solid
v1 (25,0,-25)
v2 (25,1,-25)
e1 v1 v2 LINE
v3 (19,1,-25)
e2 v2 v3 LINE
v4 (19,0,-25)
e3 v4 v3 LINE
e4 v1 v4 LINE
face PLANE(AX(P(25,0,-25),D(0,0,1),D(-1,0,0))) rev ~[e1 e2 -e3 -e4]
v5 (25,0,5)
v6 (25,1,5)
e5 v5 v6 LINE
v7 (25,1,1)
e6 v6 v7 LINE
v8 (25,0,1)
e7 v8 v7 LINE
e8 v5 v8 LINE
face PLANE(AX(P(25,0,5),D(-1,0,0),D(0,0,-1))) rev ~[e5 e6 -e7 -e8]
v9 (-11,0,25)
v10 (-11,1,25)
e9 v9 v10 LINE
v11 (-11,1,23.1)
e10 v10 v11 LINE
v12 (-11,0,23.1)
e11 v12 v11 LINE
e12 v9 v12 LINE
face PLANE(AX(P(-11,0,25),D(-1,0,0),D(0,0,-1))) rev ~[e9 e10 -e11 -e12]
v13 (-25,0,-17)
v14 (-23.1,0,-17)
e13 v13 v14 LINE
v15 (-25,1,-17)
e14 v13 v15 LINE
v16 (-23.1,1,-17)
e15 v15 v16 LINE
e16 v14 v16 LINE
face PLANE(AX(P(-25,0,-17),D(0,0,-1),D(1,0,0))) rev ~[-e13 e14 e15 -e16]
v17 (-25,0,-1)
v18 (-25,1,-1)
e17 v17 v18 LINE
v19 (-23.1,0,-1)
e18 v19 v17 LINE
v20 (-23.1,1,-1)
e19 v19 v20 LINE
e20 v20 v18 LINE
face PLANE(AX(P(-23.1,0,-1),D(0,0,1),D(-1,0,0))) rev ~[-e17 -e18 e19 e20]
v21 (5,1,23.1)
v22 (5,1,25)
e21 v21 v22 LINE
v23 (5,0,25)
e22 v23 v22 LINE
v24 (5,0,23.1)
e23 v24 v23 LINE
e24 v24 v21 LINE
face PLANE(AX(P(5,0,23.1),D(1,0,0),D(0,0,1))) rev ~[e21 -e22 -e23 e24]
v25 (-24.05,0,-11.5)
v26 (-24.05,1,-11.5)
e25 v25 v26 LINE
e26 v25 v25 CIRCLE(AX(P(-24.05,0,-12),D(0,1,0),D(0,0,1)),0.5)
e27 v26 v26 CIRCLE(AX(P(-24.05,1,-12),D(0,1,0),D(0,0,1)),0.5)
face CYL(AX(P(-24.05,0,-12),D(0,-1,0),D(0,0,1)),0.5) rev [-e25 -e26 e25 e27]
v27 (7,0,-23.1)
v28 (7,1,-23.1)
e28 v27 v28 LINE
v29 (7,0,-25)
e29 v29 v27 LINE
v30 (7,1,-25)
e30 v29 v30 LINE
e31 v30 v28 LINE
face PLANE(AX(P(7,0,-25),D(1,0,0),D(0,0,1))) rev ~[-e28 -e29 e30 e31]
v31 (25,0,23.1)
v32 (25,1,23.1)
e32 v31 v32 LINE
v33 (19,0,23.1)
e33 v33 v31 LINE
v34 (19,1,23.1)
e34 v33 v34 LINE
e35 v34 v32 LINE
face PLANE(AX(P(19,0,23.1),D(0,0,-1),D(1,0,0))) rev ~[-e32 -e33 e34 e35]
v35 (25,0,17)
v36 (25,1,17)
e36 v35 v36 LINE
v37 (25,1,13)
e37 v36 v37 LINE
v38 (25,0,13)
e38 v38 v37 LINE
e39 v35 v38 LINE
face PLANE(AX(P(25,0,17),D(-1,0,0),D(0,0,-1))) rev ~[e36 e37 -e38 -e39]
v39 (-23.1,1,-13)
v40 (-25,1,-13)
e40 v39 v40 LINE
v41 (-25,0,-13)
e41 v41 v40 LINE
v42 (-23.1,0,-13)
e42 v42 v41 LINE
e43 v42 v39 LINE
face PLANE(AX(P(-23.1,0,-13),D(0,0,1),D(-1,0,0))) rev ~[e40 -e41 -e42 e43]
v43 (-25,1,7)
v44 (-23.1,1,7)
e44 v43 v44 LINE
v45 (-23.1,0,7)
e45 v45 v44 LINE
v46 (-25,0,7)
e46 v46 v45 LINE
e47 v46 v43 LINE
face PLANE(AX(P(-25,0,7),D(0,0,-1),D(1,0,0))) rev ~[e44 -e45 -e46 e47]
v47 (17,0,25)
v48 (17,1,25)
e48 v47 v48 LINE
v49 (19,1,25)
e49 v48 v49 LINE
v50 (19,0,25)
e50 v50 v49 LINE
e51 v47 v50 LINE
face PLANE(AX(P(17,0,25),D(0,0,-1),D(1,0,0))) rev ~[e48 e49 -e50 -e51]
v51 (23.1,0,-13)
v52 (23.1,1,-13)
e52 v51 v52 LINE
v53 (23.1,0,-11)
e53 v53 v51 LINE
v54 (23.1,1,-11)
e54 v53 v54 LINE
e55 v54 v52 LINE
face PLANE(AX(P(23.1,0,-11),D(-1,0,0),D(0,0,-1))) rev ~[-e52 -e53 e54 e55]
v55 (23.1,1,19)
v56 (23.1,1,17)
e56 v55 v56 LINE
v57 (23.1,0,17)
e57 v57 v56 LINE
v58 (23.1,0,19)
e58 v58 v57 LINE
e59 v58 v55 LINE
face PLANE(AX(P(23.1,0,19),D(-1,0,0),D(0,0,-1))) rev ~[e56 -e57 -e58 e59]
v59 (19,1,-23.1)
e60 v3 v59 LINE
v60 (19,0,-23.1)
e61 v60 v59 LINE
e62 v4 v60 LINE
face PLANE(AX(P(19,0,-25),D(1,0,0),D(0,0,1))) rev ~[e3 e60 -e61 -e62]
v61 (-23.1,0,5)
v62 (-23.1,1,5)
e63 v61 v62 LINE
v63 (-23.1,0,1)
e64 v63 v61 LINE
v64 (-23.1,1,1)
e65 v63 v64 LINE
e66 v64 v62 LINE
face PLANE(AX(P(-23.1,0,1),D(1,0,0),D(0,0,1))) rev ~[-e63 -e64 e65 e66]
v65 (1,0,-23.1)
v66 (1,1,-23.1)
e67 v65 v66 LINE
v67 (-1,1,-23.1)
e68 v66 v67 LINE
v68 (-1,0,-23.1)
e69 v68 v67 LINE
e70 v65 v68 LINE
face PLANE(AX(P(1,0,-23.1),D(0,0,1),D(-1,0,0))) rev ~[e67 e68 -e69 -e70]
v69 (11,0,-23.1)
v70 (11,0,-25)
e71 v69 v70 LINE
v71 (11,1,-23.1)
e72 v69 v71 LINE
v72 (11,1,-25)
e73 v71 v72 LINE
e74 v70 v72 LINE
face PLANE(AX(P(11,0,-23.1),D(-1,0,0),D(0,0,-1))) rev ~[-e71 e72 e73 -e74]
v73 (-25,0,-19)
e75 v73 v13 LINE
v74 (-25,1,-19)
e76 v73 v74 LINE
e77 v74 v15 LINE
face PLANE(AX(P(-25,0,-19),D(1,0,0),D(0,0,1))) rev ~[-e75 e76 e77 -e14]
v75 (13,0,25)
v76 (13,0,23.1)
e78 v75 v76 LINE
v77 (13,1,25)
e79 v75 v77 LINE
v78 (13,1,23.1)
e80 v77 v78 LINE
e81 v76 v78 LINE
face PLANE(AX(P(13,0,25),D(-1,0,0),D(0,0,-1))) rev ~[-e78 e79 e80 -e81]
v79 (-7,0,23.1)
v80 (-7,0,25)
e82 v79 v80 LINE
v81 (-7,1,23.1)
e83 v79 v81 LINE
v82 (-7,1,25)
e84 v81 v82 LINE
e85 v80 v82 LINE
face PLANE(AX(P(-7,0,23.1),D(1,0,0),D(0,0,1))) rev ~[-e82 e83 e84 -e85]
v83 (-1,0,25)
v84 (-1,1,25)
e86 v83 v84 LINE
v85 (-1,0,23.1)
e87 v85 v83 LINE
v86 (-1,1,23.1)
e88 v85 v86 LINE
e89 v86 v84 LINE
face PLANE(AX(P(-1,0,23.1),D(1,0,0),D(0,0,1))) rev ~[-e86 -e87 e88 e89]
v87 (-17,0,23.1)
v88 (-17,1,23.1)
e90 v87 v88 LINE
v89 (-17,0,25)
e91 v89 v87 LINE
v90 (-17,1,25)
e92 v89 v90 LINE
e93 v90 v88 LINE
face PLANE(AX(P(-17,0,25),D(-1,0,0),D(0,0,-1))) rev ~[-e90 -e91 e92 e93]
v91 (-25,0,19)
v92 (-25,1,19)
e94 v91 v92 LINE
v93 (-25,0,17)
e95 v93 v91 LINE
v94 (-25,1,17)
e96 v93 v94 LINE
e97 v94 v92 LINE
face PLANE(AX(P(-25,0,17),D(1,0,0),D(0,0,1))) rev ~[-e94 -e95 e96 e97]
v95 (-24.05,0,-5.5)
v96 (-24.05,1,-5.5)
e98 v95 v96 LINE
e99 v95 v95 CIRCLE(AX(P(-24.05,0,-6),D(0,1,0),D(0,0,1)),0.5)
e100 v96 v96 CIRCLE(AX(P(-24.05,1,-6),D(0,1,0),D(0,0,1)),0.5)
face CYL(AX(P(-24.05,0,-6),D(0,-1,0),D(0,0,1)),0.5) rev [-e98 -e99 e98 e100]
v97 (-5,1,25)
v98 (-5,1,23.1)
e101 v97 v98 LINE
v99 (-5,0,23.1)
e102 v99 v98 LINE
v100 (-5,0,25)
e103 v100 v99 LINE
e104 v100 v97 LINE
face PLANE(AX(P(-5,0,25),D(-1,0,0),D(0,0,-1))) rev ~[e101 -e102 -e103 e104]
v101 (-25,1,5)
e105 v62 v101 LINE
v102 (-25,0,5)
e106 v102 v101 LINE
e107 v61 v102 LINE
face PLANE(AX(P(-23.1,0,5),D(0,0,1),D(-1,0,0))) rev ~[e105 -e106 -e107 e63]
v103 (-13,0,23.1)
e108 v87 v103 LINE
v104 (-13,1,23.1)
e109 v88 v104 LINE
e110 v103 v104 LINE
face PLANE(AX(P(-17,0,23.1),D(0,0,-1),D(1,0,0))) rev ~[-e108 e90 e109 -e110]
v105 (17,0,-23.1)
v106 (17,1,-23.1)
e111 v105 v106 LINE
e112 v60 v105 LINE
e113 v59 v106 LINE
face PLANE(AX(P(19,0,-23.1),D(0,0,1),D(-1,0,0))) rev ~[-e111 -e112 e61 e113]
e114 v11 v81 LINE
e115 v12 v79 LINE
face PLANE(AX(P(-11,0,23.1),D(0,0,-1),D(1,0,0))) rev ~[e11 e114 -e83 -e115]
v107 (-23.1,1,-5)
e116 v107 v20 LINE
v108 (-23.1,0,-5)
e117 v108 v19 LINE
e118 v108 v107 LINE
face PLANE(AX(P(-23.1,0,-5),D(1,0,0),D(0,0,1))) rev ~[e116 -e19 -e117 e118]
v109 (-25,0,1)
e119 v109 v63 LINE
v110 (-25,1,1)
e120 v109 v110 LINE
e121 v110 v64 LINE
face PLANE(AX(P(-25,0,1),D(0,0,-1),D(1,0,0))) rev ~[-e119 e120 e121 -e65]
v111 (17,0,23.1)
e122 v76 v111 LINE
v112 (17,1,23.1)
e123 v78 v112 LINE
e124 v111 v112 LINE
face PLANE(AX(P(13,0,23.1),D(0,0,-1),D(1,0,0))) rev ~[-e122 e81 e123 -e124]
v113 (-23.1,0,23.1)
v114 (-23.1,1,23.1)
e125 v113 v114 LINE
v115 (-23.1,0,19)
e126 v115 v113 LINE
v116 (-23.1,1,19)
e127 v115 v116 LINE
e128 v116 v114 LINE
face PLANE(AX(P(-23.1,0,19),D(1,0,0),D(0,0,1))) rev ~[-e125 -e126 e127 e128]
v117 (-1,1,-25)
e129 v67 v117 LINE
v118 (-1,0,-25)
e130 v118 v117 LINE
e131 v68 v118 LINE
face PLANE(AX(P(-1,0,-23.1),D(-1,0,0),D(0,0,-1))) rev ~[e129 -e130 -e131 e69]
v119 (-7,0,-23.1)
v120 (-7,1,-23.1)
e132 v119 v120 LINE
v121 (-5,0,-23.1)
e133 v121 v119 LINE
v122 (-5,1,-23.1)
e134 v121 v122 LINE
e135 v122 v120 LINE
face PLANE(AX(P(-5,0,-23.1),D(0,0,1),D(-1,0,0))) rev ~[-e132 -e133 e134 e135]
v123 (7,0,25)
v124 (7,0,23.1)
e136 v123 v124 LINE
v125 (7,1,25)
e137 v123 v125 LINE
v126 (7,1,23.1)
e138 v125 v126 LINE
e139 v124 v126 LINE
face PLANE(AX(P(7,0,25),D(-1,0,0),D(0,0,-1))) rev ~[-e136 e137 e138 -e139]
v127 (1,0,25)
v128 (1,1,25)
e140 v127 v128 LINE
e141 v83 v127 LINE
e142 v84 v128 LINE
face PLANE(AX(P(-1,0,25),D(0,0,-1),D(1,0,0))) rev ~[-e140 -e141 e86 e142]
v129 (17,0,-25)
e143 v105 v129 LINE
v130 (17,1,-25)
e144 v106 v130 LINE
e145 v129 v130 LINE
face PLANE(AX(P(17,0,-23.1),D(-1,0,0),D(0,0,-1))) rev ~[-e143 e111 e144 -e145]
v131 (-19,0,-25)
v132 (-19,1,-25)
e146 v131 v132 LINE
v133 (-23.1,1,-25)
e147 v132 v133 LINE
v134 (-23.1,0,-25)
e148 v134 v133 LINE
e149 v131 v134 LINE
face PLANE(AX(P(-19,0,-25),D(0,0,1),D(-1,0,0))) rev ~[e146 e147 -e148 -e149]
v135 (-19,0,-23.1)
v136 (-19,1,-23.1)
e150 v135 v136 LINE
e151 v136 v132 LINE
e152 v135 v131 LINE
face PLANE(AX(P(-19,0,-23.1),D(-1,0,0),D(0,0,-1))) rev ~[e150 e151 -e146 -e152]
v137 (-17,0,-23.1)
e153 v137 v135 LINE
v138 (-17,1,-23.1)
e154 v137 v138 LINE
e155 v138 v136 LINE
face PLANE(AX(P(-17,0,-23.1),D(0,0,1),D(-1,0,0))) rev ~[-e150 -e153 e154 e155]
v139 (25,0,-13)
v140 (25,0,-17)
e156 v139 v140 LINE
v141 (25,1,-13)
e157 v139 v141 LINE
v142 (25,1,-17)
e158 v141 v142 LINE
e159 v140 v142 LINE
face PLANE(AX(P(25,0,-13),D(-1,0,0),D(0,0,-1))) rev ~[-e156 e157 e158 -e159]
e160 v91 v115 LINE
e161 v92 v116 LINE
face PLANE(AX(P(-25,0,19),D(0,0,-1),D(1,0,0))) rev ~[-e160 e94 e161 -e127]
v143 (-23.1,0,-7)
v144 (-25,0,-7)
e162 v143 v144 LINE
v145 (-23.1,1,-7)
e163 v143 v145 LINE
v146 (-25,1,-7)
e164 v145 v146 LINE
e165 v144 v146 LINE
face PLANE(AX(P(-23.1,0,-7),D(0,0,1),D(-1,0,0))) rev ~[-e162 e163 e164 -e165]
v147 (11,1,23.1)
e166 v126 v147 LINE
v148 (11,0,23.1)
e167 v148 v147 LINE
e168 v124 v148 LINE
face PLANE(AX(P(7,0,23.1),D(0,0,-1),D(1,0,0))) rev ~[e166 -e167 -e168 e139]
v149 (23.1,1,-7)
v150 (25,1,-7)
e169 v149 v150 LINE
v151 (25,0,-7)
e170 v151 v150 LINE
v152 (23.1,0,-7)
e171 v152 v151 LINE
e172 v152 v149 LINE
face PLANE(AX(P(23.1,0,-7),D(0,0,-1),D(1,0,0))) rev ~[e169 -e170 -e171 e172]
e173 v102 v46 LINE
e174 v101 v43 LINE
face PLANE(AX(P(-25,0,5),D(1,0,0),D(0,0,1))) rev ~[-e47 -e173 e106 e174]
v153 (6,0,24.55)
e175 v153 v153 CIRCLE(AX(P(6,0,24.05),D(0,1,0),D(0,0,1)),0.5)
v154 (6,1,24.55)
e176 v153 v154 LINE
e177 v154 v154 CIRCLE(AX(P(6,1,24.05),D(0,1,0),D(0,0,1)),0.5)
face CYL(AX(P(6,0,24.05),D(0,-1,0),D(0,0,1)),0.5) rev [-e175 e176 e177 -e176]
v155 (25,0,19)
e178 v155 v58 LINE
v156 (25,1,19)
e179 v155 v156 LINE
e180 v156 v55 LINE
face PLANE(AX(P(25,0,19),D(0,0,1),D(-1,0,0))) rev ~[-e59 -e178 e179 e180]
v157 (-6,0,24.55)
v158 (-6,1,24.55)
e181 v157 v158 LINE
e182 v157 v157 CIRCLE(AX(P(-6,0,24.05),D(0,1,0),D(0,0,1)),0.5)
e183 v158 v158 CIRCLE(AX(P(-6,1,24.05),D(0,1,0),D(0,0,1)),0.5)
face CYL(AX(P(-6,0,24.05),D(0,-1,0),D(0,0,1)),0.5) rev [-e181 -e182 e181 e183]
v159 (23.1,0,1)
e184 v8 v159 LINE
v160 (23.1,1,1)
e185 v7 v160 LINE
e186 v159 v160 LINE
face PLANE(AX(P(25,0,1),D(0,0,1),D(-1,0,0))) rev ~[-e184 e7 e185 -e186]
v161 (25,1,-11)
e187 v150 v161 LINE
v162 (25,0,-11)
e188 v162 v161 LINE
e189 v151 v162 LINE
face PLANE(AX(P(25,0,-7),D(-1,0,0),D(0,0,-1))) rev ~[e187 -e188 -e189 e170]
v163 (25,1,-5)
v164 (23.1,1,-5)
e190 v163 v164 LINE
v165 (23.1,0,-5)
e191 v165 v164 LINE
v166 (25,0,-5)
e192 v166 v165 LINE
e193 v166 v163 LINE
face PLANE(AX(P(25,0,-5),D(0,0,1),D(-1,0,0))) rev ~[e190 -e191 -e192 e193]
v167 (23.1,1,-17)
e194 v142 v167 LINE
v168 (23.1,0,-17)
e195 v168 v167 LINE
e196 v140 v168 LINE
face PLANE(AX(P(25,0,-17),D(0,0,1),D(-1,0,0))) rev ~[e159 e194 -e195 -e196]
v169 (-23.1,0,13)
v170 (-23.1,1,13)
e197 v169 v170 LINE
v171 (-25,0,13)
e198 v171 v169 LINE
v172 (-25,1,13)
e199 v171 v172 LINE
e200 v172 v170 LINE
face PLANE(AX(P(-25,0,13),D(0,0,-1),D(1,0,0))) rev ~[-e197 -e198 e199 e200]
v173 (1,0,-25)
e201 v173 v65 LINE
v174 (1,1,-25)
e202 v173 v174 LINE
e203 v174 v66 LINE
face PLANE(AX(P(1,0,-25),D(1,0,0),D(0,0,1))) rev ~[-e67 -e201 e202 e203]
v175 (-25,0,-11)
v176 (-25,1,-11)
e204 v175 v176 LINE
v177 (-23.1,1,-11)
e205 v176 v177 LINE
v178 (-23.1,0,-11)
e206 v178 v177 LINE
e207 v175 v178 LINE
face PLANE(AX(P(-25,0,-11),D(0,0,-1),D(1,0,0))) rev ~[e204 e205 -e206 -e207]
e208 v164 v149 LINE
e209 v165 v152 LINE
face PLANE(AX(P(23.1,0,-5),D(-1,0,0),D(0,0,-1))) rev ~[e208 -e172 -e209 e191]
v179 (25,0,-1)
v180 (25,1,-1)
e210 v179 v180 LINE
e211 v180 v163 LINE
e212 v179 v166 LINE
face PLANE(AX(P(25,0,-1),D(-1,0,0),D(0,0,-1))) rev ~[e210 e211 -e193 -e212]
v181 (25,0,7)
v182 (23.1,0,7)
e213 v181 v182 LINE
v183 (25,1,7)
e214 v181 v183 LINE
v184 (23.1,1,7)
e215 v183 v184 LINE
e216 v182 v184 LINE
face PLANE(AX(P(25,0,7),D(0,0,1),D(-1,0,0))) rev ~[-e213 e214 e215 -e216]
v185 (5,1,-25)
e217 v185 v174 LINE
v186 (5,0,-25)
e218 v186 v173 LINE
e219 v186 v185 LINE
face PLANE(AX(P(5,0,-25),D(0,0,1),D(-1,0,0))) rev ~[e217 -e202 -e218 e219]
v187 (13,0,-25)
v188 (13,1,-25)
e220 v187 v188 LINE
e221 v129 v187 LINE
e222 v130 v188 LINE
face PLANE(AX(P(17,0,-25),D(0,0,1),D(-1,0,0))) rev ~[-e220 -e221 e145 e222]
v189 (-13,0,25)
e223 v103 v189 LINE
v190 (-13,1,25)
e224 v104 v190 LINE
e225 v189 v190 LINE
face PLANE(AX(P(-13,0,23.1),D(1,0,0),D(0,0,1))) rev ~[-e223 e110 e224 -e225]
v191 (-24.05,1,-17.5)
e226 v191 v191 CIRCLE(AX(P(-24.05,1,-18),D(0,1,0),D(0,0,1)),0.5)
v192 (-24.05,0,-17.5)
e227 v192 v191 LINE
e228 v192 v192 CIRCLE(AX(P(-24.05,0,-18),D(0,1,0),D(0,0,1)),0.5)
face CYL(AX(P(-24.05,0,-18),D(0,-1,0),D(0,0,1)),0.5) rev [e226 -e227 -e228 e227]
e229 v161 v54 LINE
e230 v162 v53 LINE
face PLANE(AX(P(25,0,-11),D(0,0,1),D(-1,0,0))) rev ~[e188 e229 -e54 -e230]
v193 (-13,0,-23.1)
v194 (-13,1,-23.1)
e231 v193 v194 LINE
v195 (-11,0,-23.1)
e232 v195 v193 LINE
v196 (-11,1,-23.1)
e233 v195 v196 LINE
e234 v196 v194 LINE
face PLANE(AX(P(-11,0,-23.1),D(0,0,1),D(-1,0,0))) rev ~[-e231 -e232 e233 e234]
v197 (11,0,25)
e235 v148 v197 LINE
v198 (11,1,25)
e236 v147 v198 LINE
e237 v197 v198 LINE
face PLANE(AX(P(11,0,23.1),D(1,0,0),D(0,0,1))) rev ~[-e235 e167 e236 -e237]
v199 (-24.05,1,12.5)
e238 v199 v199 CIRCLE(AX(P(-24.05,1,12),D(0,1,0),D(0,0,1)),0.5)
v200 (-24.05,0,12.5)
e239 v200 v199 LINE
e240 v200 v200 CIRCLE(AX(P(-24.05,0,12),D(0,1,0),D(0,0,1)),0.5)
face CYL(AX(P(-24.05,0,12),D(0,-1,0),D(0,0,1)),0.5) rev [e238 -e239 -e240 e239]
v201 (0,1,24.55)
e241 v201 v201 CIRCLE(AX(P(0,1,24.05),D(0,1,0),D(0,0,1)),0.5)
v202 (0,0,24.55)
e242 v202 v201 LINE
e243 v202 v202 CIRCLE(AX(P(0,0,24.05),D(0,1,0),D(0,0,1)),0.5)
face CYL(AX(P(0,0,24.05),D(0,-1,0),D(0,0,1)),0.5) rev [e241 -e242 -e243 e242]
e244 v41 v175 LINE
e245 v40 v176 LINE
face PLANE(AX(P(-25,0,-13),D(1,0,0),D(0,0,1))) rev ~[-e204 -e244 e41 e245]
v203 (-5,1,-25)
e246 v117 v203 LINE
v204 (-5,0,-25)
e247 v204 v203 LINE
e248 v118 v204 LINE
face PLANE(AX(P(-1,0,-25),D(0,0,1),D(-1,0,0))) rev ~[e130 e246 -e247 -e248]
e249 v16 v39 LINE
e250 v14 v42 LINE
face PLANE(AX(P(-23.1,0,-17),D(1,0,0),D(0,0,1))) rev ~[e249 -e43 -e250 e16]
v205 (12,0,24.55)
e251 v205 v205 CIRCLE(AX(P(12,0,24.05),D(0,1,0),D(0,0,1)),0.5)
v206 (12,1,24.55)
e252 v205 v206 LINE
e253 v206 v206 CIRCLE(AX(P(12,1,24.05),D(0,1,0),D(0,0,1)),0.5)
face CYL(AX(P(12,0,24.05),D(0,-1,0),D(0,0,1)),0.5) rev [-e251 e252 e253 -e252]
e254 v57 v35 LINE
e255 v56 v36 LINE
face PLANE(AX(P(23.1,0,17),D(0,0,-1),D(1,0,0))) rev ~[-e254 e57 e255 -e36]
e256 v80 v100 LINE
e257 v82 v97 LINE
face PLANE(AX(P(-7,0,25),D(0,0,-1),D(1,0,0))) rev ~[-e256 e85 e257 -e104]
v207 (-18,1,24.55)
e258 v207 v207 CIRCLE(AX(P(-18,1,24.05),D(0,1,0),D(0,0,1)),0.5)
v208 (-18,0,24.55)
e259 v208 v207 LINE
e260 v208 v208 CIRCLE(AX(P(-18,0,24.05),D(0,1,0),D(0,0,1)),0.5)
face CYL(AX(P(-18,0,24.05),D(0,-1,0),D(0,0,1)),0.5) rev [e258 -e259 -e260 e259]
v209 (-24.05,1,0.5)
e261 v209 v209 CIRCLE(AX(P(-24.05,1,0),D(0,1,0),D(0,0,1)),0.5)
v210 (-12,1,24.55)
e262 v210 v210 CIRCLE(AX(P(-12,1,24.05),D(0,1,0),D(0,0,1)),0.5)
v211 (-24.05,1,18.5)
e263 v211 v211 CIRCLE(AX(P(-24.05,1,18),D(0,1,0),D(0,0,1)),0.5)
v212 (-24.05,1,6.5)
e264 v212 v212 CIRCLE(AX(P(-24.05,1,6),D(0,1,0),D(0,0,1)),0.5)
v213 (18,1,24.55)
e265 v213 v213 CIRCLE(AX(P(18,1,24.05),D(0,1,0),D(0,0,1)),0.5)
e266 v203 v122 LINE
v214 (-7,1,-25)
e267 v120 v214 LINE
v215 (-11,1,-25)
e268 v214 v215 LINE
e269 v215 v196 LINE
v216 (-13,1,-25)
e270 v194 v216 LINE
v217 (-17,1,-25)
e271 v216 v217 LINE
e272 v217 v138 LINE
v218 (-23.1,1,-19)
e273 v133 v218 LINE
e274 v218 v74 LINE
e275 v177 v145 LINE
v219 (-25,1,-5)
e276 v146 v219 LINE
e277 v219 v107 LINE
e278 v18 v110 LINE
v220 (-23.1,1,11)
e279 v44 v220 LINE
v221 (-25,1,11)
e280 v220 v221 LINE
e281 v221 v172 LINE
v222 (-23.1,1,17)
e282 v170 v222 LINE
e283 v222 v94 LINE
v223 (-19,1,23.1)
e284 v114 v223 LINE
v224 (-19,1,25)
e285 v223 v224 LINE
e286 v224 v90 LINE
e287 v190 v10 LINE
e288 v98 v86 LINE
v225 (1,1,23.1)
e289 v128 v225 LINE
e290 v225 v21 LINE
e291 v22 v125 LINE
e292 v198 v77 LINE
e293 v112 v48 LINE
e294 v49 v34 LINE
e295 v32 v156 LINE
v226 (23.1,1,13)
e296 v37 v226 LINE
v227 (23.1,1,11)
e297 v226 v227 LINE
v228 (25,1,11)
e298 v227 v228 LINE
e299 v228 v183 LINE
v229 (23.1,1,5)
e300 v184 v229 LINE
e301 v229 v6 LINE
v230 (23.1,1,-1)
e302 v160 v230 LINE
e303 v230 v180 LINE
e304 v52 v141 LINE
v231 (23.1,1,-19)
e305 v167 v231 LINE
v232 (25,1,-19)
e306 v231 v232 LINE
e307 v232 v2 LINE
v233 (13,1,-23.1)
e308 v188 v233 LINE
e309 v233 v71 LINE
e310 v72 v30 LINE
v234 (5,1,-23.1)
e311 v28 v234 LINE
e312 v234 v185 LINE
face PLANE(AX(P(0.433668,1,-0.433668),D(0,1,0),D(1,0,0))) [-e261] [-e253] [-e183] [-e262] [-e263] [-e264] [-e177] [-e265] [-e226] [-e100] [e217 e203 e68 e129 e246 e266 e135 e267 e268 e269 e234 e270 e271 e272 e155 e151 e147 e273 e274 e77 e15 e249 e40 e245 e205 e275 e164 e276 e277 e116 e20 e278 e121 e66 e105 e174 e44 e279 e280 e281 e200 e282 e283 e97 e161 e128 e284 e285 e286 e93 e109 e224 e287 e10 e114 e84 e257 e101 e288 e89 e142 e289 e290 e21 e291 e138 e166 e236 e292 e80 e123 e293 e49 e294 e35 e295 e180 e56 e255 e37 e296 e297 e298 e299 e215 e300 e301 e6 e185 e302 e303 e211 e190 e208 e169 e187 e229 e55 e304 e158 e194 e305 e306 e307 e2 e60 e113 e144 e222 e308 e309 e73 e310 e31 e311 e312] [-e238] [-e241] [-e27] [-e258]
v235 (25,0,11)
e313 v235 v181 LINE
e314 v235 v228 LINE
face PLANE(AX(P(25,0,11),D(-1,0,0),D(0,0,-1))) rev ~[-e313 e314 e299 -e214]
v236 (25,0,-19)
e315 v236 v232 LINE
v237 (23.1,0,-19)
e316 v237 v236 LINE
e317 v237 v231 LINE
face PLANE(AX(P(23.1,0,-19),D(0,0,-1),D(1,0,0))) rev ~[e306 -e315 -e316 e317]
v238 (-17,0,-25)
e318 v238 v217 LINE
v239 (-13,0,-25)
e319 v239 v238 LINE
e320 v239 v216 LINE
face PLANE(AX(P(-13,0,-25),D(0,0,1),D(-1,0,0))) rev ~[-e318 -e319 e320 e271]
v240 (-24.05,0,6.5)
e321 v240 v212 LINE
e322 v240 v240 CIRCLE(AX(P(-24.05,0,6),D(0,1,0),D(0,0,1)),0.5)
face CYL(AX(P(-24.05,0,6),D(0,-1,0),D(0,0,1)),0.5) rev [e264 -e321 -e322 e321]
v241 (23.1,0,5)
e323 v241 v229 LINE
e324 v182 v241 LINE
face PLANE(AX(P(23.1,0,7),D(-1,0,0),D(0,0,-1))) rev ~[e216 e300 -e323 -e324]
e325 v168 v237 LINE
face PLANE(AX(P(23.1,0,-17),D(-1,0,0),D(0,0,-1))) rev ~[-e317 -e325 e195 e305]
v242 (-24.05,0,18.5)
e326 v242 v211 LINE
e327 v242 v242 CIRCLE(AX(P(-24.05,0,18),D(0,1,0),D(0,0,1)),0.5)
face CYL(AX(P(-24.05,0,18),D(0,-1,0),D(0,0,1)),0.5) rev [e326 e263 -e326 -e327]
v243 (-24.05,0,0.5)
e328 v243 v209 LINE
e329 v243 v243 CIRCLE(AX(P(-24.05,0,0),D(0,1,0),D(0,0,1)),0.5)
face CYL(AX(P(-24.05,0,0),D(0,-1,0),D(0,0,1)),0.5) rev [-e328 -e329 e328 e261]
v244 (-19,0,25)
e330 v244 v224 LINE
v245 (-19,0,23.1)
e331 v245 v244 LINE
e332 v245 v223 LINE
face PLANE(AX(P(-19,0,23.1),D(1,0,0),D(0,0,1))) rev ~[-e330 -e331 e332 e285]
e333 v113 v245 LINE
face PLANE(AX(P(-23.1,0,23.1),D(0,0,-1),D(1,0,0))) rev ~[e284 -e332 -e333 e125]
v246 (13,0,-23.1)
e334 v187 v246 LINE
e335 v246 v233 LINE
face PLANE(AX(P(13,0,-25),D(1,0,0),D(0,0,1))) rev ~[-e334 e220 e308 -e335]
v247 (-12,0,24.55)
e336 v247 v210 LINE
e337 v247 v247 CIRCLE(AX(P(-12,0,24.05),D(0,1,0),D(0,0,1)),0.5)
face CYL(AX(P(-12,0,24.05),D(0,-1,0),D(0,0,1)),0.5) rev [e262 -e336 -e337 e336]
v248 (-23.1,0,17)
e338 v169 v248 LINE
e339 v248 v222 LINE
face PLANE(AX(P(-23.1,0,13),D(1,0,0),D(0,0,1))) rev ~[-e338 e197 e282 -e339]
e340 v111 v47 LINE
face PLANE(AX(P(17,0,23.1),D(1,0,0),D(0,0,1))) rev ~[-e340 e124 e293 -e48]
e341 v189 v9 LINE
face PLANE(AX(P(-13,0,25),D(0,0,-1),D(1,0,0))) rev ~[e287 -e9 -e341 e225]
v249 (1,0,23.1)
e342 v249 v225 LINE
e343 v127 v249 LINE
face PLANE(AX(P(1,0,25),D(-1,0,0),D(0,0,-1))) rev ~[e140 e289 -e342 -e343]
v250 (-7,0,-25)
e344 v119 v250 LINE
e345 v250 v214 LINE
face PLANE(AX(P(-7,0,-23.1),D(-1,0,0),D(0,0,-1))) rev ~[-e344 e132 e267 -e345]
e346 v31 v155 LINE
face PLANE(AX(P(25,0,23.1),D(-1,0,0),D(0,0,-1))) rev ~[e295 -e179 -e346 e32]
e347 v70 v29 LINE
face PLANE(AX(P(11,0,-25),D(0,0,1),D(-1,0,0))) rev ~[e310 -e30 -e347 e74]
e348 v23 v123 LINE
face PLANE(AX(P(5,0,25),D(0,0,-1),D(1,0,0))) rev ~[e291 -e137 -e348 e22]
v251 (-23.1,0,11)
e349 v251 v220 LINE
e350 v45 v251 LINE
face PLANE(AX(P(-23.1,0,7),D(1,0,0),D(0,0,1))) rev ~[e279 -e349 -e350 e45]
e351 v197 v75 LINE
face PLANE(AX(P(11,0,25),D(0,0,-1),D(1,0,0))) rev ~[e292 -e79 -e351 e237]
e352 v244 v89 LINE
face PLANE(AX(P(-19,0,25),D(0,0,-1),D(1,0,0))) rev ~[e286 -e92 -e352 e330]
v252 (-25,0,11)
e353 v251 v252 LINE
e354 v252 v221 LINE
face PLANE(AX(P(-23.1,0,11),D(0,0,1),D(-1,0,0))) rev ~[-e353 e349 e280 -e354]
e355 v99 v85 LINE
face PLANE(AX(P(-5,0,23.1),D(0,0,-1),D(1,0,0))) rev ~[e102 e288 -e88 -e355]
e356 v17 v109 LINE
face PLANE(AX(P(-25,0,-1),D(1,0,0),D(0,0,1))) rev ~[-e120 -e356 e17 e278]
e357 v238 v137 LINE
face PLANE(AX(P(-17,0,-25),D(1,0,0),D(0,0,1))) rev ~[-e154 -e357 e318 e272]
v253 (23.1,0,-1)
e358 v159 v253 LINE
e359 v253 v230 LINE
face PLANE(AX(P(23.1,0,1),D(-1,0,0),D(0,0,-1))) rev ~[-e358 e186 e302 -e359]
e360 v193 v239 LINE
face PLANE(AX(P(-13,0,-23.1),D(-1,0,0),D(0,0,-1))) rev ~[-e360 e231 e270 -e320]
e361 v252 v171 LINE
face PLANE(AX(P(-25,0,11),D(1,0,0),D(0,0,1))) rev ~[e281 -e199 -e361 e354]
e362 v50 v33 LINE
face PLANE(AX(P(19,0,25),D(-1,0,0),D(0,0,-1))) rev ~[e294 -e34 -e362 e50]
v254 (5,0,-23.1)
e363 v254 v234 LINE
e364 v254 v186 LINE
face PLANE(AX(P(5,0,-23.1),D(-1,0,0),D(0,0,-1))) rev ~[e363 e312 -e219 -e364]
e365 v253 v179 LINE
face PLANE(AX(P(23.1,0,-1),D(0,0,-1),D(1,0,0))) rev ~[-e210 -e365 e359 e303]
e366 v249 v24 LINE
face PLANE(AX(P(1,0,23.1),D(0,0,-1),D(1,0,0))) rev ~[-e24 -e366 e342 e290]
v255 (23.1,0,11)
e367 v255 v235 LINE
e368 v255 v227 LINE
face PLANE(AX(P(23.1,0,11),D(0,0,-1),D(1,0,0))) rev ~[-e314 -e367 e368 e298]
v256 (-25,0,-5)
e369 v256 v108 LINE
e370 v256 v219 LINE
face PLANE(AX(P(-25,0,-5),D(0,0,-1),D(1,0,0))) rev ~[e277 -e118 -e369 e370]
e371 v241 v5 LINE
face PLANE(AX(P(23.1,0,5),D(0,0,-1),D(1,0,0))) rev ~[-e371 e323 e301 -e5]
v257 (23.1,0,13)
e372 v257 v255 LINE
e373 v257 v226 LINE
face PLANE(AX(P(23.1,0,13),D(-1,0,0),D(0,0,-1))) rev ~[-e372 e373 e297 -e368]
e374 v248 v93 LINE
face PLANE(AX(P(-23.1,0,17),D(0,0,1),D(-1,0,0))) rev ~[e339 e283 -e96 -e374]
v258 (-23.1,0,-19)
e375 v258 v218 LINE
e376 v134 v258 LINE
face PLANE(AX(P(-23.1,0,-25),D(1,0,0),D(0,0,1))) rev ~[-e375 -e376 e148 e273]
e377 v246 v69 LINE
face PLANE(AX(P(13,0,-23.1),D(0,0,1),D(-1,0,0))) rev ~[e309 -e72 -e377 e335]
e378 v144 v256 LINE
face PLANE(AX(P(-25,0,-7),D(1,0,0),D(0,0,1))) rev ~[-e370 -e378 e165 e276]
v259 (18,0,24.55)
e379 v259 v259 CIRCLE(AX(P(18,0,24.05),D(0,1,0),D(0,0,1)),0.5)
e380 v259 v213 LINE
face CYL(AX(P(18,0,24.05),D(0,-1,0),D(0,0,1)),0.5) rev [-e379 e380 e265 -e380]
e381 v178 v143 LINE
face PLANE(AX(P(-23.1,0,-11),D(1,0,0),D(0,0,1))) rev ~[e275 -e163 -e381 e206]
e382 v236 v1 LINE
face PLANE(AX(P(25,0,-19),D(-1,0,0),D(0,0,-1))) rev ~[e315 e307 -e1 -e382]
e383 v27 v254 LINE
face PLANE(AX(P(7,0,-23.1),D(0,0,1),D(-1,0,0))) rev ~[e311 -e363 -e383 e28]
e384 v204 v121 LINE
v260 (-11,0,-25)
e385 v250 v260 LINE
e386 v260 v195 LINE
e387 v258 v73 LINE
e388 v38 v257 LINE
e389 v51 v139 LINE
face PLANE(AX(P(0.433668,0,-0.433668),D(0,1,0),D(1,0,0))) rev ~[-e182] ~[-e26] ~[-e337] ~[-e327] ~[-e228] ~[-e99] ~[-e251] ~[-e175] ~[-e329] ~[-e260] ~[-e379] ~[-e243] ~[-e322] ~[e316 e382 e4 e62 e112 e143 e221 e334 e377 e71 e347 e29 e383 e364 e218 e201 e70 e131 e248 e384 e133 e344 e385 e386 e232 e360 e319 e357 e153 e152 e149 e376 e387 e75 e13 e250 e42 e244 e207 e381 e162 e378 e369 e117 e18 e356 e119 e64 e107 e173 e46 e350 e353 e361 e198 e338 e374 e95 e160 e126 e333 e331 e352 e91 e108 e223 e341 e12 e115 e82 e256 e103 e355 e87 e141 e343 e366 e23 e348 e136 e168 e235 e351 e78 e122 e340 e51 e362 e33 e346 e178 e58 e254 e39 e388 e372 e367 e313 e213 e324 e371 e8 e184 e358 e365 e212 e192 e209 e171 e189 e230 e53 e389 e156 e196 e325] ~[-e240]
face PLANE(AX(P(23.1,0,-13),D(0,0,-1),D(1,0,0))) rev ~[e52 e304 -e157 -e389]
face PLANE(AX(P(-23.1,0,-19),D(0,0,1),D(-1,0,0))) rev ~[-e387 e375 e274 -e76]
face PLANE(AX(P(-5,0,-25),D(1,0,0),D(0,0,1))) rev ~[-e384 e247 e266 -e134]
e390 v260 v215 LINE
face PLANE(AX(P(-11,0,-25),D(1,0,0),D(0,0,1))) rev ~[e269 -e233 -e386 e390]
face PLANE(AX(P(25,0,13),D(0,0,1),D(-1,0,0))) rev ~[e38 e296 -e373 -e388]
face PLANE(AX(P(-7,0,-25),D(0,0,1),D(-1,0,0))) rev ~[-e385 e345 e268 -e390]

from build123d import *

# Parameters (mm, degrees)
SKETCH_1_R      = 0.5
EXTRUDE_2_DEPTH = 1


with BuildPart() as part:
    # Эскиз1 → Бобышка-Вытянуть2 (new body)
    with BuildSketch(Plane(origin=(0, 0, 0), x_dir=(1, 0, 0), z_dir=(0, 1, 0))):
        Polygon((25, -23.1), (25, -19), (23.1, -19), (23.1, -17), (25, -17), (25, -13), (23.1, -13), (23.1, -11), (25, -11), (25, -7), (23.1, -7), (23.1, -5), (25, -5), (25, -1), (23.1, -1), (23.1, 1), (25, 1), (25, 5), (23.1, 5), (23.1, 7), (25, 7), (25, 11), (23.1, 11), (23.1, 13), (25, 13), (25, 17), (23.1, 17), (23.1, 19), (25, 19), (25, 25), (19, 25), (19, 23.1), (17, 23.1), (17, 25), (13, 25), (13, 23.1), (11, 23.1), (11, 25), (7, 25), (7, 23.1), (5, 23.1), (5, 25), (1, 25), (1, 23.1), (-1, 23.1), (-1, 25), (-5, 25), (-5, 23.1), (-7, 23.1), (-7, 25), (-11, 25), (-11, 23.1), (-13, 23.1), (-13, 25), (-17, 25), (-17, 23.1), (-19, 23.1), (-19, 25), (-23.1, 25), (-23.1, 19), (-25, 19), (-25, 17), (-23.1, 17), (-23.1, 13), (-25, 13), (-25, 11), (-23.1, 11), (-23.1, 7), (-25, 7), (-25, 5), (-23.1, 5), (-23.1, 1), (-25, 1), (-25, -1), (-23.1, -1), (-23.1, -5), (-25, -5), (-25, -7), (-23.1, -7), (-23.1, -11), (-25, -11), (-25, -13), (-23.1, -13), (-23.1, -17), (-25, -17), (-25, -19), (-23.1, -19), (-23.1, -23.1), (-19, -23.1), (-19, -25), (-17, -25), (-17, -23.1), (-13, -23.1), (-13, -25), (-11, -25), (-11, -23.1), (-7, -23.1), (-7, -25), (-5, -25), (-5, -23.1), (-1, -23.1), (-1, -25), (1, -25), (1, -23.1), (5, -23.1), (5, -25), (7, -25), (7, -23.1), (11, -23.1), (11, -25), (13, -25), (13, -23.1), (17, -23.1), (17, -25), (19, -25), (19, -23.1), align=None)
        with Locations(Location((18, -24.05, 0), (0, 0, 270))):
            Circle(SKETCH_1_R, mode=Mode.SUBTRACT)
        with Locations(Location((12, -24.05, 0), (0, 0, 270))):
            Circle(SKETCH_1_R, mode=Mode.SUBTRACT)
        with Locations(Location((6, -24.05, 0), (0, 0, 270))):
            Circle(SKETCH_1_R, mode=Mode.SUBTRACT)
        with Locations(Location((0, -24.05, 0), (0, 0, 270))):
            Circle(SKETCH_1_R, mode=Mode.SUBTRACT)
        with Locations(Location((-6, -24.05, 0), (0, 0, 270))):
            Circle(SKETCH_1_R, mode=Mode.SUBTRACT)
        with Locations(Location((-12, -24.05, 0), (0, 0, 270))):
            Circle(SKETCH_1_R, mode=Mode.SUBTRACT)
        with Locations(Location((-18, -24.05, 0), (0, 0, 270))):
            Circle(SKETCH_1_R, mode=Mode.SUBTRACT)
        with Locations(Location((-24.05, -18, 0), (0, 0, 270))):
            Circle(SKETCH_1_R, mode=Mode.SUBTRACT)
        with Locations(Location((-24.05, -12, 0), (0, 0, 270))):
            Circle(SKETCH_1_R, mode=Mode.SUBTRACT)
        with Locations(Location((-24.05, -6, 0), (0, 0, 270))):
            Circle(SKETCH_1_R, mode=Mode.SUBTRACT)
        with Locations(Location((-24.05, 0, 0), (0, 0, 270))):
            Circle(SKETCH_1_R, mode=Mode.SUBTRACT)
        with Locations(Location((-24.05, 6, 0), (0, 0, 270))):
            Circle(SKETCH_1_R, mode=Mode.SUBTRACT)
        with Locations(Location((-24.05, 12, 0), (0, 0, 270))):
            Circle(SKETCH_1_R, mode=Mode.SUBTRACT)
        with Locations(Location((-24.05, 18, 0), (0, 0, 270))):
            Circle(SKETCH_1_R, mode=Mode.SUBTRACT)
    extrude(amount=EXTRUDE_2_DEPTH)


solid = part.part
